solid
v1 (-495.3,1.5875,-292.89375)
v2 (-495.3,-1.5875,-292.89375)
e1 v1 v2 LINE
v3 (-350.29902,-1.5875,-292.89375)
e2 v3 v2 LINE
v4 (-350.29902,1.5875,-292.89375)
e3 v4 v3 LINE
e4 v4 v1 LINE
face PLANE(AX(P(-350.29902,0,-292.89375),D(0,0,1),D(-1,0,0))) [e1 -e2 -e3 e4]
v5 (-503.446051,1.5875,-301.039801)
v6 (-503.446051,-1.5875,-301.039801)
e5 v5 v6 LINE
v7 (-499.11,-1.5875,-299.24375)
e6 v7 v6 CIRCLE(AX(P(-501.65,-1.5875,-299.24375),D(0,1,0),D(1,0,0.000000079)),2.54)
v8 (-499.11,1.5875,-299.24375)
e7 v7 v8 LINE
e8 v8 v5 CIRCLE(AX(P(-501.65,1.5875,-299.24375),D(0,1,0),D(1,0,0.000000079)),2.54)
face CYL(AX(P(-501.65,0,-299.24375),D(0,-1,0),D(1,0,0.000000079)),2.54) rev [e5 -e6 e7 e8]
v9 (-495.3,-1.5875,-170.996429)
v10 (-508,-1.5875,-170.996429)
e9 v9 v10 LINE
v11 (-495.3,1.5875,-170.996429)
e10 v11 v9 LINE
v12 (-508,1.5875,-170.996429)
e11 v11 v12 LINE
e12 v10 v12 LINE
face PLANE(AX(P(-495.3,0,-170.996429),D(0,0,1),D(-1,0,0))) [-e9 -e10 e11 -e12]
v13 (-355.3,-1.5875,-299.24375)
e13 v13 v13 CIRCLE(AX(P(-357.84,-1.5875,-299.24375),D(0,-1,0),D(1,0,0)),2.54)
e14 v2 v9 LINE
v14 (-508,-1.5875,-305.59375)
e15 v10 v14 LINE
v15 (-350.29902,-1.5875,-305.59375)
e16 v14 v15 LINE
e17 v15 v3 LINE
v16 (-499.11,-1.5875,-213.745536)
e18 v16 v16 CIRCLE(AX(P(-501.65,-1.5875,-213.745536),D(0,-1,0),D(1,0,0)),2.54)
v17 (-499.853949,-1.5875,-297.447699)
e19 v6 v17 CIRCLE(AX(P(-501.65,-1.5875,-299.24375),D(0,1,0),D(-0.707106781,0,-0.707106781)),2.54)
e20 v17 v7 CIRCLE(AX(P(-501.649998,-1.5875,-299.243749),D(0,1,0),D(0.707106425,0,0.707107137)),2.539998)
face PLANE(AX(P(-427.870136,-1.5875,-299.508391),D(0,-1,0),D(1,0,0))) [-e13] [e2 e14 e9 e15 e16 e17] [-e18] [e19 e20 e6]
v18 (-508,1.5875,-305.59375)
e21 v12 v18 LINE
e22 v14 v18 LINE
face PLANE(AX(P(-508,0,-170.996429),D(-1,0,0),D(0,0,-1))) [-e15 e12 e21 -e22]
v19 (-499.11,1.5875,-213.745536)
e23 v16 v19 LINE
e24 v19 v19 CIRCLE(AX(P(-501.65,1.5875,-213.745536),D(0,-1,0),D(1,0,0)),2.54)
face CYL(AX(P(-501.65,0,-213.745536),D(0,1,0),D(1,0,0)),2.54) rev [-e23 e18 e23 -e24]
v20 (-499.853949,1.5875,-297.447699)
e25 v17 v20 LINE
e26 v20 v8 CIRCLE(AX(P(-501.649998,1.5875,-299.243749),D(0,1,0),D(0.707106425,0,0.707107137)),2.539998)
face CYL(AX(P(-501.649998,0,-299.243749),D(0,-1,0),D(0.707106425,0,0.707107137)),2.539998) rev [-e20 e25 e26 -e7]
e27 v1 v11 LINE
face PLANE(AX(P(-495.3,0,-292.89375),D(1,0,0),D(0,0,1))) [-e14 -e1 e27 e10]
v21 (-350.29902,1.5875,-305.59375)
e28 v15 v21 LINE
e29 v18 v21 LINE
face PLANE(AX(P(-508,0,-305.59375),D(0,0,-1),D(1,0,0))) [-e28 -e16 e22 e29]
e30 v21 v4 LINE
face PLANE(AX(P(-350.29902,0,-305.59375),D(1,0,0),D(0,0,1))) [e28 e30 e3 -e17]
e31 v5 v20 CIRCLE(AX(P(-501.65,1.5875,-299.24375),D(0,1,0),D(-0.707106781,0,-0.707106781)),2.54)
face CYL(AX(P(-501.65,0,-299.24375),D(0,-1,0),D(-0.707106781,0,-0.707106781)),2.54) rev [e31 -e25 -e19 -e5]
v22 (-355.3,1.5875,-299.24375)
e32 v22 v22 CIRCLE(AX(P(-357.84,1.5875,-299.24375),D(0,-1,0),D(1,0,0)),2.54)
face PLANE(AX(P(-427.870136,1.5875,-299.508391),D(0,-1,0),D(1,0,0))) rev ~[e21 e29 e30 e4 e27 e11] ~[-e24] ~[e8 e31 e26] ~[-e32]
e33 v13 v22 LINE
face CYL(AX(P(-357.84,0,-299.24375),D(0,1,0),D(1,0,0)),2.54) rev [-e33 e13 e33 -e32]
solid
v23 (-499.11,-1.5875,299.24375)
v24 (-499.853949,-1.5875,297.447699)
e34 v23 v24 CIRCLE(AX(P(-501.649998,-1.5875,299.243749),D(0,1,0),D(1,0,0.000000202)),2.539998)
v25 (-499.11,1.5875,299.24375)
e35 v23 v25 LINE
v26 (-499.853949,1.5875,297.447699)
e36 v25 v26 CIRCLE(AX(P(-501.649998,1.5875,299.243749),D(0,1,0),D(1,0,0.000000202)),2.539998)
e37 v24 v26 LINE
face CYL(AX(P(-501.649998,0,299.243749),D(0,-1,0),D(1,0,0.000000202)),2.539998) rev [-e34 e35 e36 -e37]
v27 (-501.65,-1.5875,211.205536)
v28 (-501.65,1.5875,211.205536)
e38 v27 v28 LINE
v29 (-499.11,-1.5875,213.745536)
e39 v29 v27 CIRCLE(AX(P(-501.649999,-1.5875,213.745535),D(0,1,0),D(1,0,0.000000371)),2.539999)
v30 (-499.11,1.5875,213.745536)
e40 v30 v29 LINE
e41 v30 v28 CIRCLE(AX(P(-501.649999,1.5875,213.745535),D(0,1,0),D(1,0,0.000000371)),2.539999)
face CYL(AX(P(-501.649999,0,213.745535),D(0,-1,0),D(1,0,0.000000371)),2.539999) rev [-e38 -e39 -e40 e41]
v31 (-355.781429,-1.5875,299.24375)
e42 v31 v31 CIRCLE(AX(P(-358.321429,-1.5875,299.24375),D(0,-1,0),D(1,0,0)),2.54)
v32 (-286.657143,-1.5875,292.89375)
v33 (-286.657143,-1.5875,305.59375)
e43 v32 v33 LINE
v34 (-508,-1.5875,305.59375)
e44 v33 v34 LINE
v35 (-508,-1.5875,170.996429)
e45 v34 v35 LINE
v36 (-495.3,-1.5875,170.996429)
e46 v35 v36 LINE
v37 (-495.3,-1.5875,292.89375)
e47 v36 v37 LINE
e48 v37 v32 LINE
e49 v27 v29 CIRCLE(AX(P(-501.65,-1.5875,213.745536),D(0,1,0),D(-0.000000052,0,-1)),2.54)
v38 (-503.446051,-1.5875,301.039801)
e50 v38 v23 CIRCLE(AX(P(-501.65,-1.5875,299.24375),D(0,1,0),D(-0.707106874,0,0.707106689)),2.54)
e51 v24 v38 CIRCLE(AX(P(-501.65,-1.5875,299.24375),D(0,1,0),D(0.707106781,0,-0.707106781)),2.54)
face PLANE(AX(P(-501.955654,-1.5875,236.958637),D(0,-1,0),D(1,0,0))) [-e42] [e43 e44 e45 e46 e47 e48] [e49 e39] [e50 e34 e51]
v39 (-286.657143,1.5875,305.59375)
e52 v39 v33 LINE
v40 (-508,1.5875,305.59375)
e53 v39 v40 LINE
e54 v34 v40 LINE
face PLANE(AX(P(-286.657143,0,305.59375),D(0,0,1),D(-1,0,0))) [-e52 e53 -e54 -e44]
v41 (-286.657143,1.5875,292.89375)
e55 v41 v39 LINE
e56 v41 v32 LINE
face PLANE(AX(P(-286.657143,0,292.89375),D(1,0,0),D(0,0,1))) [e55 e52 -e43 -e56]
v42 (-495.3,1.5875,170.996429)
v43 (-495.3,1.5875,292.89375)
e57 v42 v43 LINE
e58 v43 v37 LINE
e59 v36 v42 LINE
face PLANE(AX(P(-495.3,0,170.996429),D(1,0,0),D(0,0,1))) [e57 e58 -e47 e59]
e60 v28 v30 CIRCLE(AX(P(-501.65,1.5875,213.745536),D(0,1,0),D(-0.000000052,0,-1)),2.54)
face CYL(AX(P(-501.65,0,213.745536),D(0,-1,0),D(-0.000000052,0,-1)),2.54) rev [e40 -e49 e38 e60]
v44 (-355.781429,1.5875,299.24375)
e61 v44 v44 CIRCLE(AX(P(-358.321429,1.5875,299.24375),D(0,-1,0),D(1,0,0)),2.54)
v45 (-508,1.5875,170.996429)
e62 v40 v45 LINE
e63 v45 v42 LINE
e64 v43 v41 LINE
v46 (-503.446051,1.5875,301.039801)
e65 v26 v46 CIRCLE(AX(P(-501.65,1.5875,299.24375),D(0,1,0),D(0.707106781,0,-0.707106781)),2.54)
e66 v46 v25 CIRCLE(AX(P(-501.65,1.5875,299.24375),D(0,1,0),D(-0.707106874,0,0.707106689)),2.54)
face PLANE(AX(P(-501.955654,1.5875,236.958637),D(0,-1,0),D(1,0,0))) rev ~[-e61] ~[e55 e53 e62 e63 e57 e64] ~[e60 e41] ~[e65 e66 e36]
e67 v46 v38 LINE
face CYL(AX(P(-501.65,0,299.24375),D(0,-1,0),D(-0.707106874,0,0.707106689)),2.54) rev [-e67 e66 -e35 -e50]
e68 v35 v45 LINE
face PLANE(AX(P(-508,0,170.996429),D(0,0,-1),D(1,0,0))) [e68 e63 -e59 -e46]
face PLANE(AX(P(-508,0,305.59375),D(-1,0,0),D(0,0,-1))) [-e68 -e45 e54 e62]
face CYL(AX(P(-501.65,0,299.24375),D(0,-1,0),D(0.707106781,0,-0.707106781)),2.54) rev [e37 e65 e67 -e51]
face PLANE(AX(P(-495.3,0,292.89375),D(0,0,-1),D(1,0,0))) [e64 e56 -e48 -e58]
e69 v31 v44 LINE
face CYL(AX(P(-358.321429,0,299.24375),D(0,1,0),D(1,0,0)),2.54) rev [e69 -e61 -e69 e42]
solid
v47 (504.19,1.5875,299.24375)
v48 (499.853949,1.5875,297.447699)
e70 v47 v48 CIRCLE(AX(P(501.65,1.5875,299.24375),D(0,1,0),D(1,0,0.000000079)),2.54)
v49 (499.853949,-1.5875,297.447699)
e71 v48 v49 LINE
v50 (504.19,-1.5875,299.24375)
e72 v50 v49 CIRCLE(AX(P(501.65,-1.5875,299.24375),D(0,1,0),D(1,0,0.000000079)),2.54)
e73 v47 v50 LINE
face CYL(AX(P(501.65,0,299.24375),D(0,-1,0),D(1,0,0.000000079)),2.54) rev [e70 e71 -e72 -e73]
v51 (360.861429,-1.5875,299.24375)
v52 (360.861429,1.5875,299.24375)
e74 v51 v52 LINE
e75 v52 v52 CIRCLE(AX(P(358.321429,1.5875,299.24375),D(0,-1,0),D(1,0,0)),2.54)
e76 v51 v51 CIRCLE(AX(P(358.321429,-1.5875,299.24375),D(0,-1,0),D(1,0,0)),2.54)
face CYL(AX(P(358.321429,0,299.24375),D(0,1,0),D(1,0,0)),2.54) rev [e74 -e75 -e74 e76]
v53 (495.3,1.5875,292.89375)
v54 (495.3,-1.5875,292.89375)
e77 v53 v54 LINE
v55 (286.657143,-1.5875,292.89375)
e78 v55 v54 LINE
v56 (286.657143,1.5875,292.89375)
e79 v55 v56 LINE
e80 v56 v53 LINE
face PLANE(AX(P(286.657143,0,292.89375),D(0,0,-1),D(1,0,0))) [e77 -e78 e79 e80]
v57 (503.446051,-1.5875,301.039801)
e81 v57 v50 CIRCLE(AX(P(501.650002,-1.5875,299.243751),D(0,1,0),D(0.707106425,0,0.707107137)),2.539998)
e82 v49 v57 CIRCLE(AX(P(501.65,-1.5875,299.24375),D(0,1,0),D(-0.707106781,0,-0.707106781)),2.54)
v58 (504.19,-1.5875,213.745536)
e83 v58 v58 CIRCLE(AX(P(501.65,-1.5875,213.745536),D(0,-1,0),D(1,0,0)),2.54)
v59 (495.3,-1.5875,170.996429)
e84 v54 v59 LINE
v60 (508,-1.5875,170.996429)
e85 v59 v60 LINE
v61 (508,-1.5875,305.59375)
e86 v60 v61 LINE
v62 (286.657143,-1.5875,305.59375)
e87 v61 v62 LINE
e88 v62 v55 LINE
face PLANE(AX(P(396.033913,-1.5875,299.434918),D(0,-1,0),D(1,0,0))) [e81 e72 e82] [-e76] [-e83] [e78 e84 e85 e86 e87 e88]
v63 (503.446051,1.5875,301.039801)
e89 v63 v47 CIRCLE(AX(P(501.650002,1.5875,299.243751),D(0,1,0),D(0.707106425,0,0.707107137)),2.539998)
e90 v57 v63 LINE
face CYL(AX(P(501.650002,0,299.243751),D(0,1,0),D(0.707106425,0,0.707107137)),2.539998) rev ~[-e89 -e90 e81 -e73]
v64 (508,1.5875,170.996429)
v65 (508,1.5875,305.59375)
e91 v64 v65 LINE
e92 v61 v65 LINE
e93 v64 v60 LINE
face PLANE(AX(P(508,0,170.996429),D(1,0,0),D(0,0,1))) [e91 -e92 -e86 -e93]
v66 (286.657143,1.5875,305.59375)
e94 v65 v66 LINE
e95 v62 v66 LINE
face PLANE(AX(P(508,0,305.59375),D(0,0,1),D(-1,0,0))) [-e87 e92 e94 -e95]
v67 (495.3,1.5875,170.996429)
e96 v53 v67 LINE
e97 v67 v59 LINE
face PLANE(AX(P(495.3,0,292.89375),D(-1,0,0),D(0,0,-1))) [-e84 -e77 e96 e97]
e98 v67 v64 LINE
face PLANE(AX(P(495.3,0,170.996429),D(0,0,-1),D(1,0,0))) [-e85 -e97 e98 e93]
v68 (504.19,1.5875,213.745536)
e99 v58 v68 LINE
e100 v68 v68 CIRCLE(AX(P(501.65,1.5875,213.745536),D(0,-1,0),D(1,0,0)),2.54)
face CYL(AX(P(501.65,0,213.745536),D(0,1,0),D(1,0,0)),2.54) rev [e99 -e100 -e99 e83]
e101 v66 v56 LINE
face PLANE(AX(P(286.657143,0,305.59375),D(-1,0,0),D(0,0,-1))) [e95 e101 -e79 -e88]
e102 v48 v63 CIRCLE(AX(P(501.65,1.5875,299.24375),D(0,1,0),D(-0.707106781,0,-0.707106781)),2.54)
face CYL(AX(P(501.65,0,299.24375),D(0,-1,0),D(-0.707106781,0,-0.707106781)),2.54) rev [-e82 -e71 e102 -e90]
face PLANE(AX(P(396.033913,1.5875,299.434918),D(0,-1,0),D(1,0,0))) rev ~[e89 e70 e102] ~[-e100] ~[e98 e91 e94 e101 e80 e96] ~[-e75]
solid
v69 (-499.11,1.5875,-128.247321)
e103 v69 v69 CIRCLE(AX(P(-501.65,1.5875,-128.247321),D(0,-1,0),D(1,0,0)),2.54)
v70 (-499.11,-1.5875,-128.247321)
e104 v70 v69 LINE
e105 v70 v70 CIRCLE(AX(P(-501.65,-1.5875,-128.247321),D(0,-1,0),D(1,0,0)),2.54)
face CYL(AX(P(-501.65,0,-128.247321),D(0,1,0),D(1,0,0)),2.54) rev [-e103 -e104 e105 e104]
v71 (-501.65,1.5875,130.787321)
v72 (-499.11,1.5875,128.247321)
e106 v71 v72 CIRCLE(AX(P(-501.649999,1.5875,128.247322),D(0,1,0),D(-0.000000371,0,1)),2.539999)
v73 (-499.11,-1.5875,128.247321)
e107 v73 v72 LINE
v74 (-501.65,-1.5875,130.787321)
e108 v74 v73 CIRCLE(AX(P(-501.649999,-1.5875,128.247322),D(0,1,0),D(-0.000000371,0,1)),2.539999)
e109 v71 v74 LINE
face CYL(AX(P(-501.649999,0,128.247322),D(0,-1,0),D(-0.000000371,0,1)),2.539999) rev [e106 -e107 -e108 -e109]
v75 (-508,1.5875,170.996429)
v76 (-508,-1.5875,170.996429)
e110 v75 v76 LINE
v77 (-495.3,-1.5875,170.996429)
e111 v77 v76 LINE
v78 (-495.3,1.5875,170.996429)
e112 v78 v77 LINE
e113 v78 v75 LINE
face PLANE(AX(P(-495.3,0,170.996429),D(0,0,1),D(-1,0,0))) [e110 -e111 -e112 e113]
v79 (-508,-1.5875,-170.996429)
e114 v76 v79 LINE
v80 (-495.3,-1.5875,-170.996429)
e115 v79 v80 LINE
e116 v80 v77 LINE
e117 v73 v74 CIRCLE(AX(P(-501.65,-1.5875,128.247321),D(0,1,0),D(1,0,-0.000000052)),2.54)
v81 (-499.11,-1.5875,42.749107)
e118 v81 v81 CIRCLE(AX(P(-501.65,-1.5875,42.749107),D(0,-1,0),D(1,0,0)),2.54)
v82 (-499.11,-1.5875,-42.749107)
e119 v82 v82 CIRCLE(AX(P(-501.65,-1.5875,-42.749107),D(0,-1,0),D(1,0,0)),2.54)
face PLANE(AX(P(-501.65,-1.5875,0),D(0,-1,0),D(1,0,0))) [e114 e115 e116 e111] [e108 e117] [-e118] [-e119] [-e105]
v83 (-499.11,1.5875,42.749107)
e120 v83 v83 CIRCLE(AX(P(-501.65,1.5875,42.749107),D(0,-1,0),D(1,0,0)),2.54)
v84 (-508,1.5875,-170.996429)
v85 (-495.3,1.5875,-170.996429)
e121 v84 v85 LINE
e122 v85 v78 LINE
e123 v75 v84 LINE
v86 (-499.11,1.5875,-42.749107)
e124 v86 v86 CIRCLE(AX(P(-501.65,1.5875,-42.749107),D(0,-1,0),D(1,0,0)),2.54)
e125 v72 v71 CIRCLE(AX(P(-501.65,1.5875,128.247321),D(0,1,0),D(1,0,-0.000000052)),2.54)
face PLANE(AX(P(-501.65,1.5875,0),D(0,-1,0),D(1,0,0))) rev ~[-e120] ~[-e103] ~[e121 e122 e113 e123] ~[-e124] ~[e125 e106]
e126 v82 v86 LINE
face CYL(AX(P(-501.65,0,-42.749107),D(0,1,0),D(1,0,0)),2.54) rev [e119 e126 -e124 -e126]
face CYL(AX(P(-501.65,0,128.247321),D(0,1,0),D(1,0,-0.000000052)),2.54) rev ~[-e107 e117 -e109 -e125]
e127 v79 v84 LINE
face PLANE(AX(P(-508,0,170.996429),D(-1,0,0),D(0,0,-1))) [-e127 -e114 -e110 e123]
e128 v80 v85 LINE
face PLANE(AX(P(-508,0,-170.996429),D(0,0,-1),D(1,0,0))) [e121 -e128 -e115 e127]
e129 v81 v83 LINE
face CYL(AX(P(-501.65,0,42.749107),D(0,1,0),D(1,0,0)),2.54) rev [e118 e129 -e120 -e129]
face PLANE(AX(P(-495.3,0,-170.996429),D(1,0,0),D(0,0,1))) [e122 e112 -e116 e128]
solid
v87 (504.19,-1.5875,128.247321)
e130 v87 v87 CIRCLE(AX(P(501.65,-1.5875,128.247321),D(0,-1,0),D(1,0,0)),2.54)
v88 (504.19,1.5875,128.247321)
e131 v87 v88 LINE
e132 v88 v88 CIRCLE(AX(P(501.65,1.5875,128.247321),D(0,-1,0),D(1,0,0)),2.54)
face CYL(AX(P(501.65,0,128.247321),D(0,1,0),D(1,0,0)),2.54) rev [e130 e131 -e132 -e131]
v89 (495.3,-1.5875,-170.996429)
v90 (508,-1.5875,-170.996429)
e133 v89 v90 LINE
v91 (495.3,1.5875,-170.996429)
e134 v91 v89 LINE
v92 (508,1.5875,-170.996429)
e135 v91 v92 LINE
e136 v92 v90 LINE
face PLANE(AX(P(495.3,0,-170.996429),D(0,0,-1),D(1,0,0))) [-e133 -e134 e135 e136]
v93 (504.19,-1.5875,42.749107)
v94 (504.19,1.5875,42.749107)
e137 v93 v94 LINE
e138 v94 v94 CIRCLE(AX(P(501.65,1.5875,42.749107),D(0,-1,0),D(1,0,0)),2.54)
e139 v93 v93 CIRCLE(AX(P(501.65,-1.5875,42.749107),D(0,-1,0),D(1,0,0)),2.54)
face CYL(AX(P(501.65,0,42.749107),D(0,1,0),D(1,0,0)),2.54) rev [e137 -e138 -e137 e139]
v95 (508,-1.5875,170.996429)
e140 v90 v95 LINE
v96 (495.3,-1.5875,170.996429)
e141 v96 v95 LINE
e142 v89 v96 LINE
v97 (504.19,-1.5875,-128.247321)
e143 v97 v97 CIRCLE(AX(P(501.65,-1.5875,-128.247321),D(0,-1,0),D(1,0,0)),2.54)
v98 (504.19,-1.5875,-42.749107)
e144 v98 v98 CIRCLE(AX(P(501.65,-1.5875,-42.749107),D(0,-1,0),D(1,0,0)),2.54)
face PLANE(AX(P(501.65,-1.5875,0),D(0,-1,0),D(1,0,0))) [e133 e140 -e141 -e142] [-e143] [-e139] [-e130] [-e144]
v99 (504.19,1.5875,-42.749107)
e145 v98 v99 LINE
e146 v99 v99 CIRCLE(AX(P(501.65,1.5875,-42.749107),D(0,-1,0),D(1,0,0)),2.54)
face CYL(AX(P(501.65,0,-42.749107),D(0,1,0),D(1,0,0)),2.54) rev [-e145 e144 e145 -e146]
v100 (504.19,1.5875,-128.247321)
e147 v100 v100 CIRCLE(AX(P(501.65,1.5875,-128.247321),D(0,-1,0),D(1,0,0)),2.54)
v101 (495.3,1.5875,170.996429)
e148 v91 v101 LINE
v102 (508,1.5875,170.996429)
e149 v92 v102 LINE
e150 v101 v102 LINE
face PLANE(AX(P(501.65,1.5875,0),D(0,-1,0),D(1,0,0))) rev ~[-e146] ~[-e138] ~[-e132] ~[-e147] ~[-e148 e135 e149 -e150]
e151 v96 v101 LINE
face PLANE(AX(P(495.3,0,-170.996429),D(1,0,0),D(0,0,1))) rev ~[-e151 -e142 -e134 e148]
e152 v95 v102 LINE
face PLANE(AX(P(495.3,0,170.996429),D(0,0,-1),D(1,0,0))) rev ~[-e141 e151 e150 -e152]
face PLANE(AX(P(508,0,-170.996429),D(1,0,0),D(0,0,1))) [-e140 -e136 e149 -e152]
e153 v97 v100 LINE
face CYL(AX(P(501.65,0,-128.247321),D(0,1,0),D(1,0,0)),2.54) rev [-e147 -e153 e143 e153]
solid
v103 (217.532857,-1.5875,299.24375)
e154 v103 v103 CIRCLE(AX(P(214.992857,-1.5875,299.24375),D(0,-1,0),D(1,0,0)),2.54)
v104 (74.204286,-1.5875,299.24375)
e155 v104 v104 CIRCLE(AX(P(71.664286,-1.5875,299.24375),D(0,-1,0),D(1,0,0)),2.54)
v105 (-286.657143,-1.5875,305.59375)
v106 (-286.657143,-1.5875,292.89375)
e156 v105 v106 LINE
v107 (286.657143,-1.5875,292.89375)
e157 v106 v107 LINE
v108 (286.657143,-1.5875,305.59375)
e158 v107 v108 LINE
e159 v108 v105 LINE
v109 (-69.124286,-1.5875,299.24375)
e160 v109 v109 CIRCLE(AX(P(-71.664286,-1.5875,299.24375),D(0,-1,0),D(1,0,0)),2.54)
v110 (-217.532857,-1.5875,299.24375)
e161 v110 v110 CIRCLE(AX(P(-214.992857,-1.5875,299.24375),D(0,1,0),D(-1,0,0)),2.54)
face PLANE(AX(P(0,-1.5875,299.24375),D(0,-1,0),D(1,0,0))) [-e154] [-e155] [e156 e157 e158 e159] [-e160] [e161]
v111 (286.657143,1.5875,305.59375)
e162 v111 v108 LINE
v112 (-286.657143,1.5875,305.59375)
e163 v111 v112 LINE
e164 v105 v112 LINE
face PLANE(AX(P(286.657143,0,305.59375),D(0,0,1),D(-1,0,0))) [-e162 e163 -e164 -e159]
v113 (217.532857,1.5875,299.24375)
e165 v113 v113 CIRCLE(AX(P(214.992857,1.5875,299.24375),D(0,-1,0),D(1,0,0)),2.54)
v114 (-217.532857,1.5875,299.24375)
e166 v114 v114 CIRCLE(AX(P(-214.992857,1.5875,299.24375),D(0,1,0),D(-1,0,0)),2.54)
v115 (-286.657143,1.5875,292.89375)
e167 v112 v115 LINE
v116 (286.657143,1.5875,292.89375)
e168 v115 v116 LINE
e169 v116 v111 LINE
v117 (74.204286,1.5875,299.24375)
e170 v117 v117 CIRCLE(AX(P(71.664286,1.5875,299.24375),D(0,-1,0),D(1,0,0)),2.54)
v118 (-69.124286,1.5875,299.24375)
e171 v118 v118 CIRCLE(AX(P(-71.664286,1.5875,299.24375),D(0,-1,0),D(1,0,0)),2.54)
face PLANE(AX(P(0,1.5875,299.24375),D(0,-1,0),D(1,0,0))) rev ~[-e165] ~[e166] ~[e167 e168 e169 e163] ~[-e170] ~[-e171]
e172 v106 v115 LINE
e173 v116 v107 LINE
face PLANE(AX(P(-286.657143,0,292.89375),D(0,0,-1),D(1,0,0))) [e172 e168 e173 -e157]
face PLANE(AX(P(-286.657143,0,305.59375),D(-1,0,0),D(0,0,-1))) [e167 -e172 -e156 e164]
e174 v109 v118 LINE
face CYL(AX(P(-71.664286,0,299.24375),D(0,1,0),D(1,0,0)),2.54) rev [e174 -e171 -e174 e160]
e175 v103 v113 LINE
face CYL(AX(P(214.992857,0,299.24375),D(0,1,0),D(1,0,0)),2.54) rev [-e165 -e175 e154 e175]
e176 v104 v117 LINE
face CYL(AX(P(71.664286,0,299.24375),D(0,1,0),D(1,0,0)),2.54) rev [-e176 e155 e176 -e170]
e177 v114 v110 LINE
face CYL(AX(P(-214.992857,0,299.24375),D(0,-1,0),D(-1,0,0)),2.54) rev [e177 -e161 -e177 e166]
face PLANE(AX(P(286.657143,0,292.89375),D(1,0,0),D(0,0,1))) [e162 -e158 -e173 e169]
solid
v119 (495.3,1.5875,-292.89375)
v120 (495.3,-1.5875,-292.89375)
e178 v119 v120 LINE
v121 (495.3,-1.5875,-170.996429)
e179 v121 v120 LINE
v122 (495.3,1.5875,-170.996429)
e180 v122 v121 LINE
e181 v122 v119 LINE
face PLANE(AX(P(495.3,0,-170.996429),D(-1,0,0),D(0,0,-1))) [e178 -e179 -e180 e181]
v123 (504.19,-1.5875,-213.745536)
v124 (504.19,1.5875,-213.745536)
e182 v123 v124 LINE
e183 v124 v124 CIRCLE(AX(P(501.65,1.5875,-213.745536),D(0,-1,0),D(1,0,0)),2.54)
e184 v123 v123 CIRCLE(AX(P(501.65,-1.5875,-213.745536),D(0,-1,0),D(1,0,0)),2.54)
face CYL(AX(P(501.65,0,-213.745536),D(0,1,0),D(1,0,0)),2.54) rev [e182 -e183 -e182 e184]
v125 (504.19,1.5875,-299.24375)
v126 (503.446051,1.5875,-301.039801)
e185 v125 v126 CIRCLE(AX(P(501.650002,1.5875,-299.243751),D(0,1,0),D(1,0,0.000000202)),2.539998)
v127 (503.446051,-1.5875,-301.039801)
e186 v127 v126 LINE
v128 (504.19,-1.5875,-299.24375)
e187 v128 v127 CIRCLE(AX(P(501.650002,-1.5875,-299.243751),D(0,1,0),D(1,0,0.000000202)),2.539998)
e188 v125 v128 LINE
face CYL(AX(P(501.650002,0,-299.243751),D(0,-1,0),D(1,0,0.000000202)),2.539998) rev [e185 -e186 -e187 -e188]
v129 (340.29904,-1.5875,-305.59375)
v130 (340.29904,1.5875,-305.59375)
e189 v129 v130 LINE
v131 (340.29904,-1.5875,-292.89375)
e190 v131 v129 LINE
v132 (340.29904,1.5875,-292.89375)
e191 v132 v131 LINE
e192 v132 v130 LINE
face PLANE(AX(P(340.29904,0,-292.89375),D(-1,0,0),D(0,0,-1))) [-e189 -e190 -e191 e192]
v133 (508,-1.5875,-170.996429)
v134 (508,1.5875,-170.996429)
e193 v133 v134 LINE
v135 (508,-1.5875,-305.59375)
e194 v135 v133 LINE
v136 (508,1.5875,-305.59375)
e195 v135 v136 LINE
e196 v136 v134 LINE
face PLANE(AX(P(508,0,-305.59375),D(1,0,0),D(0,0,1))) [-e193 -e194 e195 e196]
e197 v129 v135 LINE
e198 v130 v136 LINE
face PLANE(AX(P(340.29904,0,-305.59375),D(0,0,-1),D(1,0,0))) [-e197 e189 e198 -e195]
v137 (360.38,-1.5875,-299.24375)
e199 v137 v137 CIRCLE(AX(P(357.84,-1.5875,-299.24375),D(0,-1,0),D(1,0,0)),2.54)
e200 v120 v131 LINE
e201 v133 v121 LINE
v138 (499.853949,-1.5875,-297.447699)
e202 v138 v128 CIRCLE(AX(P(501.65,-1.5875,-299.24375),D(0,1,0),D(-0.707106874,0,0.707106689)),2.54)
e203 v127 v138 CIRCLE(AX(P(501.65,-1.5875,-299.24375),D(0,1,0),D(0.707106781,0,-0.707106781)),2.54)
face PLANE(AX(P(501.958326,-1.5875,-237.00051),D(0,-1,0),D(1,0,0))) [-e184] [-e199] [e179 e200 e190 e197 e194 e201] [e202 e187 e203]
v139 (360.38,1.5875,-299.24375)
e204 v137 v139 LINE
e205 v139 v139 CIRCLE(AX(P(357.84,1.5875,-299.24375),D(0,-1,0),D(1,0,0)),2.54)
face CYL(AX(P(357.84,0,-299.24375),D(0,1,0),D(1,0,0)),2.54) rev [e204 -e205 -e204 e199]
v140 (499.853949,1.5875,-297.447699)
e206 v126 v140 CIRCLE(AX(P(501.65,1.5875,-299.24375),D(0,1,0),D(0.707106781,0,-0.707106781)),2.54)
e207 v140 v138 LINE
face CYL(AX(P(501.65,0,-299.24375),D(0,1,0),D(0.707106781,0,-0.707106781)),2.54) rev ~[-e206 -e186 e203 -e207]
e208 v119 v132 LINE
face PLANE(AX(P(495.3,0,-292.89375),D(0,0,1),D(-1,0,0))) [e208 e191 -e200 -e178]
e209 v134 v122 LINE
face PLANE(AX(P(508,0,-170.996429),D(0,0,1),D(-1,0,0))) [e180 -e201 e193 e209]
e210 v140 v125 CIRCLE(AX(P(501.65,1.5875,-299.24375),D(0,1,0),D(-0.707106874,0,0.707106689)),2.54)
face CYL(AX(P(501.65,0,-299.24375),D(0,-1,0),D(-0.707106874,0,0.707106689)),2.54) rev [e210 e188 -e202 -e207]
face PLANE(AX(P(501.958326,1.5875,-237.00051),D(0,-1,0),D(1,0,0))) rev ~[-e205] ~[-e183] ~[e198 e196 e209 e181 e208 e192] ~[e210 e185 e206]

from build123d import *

# Parameters (mm, degrees)
F0_R     = 2.54
F1_DEPTH = 1.5875
F2_DEPTH = 1.5875
F3_DEPTH = 1.5875
F0_W     = 12.7
F0_H     = 341.992858
F4_DEPTH = 1.5875
F5_DEPTH = 1.5875
F6_DEPTH = 1.5875
F7_DEPTH = 1.5875


with BuildPart() as f1:
    # F0 (on Front) → F1 (new body, symmetric)
    with BuildSketch(Plane.XZ):
        with BuildLine():
            Line((-495.3, 170.996429), (-495.3, 292.89375))
            Line((-495.3, 292.89375), (-499.853949, 297.447699))
            ThreePointArc((-499.853949, 297.447699), (-503.446051, 297.447699), (-503.446051, 301.039801))
            Line((-503.446051, 301.039801), (-508, 305.59375))
            Line((-508, 305.59375), (-508, 170.996429))
            Line((-508, 170.996429), (-501.65, 170.996429))
            Line((-501.65, 170.996429), (-495.3, 170.996429))
        make_face()
        with BuildLine():
            ThreePointArc((-499.11, 213.745536), (-499.853949, 211.949484), (-501.65, 211.205536))
            ThreePointArc((-501.65, 211.205536), (-503.446051, 215.541587), (-499.11, 213.745536))
        make_face(mode=Mode.SUBTRACT)
        with BuildLine():
            Line((-495.3, 292.89375), (-286.657143, 292.89375))
            Line((-286.657143, 292.89375), (-286.657143, 299.24375))
            Line((-286.657143, 299.24375), (-286.657143, 305.59375))
            Line((-286.657143, 305.59375), (-508, 305.59375))
            Line((-508, 305.59375), (-503.446051, 301.039801))
            ThreePointArc((-503.446051, 301.039801), (-500.677984, 301.590404), (-499.11, 299.24375))
            ThreePointArc((-499.11, 299.24375), (-499.303346, 298.271734), (-499.853949, 297.447699))
            Line((-499.853949, 297.447699), (-495.3, 292.89375))
        make_face()
        with Locations((-358.321429, 299.24375)):
            Circle(F0_R, mode=Mode.SUBTRACT)
    extrude(amount=F1_DEPTH, both=True)


with BuildPart() as f2:
    # F0 (on Front) → F2 (new body, symmetric)
    with BuildSketch(Plane.XZ):
        Polygon((-286.657143, 292.89375), (286.657143, 292.89375), (286.657143, 305.59375), (-286.657143, 305.59375), (-286.657143, 299.24375), align=None)
        with BuildLine():
            ThreePointArc((-212.452857, 299.24375), (-214.992857, 296.70375), (-217.532857, 299.24375))
            ThreePointArc((-217.532857, 299.24375), (-214.992857, 301.78375), (-212.452857, 299.24375))
        make_face(mode=Mode.SUBTRACT)
        with Locations((-71.664286, 299.24375)):
            Circle(F0_R, mode=Mode.SUBTRACT)
        with Locations((71.664286, 299.24375)):
            Circle(F0_R, mode=Mode.SUBTRACT)
        with Locations((214.992857, 299.24375)):
            Circle(F0_R, mode=Mode.SUBTRACT)
    extrude(amount=F2_DEPTH, both=True)


with BuildPart() as f3:
    # F0 (on Front) → F3 (new body, symmetric)
    with BuildSketch(Plane.XZ):
        with BuildLine():
            Line((286.657143, 292.89375), (495.3, 292.89375))
            Line((495.3, 292.89375), (499.853949, 297.447699))
            ThreePointArc((499.853949, 297.447699), (499.853949, 301.039801), (503.446051, 301.039801))
            Line((503.446051, 301.039801), (508, 305.59375))
            Line((508, 305.59375), (286.657143, 305.59375))
            Line((286.657143, 305.59375), (286.657143, 292.89375))
        make_face()
        with Locations((358.321429, 299.24375)):
            Circle(F0_R, mode=Mode.SUBTRACT)
        with BuildLine():
            Line((499.853949, 297.447699), (495.3, 292.89375))
            Line((495.3, 292.89375), (495.3, 170.996429))
            Line((495.3, 170.996429), (508, 170.996429))
            Line((508, 170.996429), (508, 305.59375))
            Line((508, 305.59375), (503.446051, 301.039801))
            ThreePointArc((503.446051, 301.039801), (503.996654, 300.215766), (504.19, 299.24375))
            ThreePointArc((504.19, 299.24375), (502.622016, 296.897096), (499.853949, 297.447699))
        make_face()
        with Locations((501.65, 213.745536)):
            Circle(F0_R, mode=Mode.SUBTRACT)
    extrude(amount=F3_DEPTH, both=True)


with BuildPart() as f4:
    # F0 (on Front) → F4 (new body, symmetric)
    with BuildSketch(Plane.XZ):
        with Locations((501.65, 0)):
            Rectangle(F0_W, F0_H)
        with Locations((501.65, -128.247321)):
            Circle(F0_R, mode=Mode.SUBTRACT)
        with Locations((501.65, -42.749107)):
            Circle(F0_R, mode=Mode.SUBTRACT)
        with Locations((501.65, 42.749107)):
            Circle(F0_R, mode=Mode.SUBTRACT)
        with Locations((501.65, 128.247321)):
            Circle(F0_R, mode=Mode.SUBTRACT)
    extrude(amount=F4_DEPTH, both=True)


with BuildPart() as f5:
    # F0 (on Front) → F5 (new body, symmetric)
    with BuildSketch(Plane.XZ):
        with BuildLine():
            Line((508, -170.996429), (495.3, -170.996429))
            Line((495.3, -170.996429), (495.3, -292.89375))
            Line((495.3, -292.89375), (499.853949, -297.447699))
            ThreePointArc((499.853949, -297.447699), (502.622016, -296.897096), (504.19, -299.24375))
            ThreePointArc((504.19, -299.24375), (503.996654, -300.215766), (503.446051, -301.039801))
            Line((503.446051, -301.039801), (508, -305.59375))
            Line((508, -305.59375), (508, -170.996429))
        make_face()
        with Locations((501.65, -213.745536)):
            Circle(F0_R, mode=Mode.SUBTRACT)
        with BuildLine():
            Line((499.853949, -297.447699), (495.3, -292.89375))
            Line((495.3, -292.89375), (340.29904, -292.89375))
            Line((340.29904, -292.89375), (340.29904, -305.59375))
            Line((340.29904, -305.59375), (508, -305.59375))
            Line((508, -305.59375), (503.446051, -301.039801))
            ThreePointArc((503.446051, -301.039801), (499.853949, -301.039801), (499.853949, -297.447699))
        make_face()
        with Locations((357.84, -299.24375)):
            Circle(F0_R, mode=Mode.SUBTRACT)
    extrude(amount=F5_DEPTH, both=True)


with BuildPart() as f6:
    # F0 (on Front) → F6 (new body, symmetric)
    with BuildSketch(Plane.XZ):
        with BuildLine():
            Line((-350.29902, -305.59375), (-350.29902, -292.89375))
            Line((-350.29902, -292.89375), (-495.3, -292.89375))
            Line((-495.3, -292.89375), (-499.853949, -297.447699))
            ThreePointArc((-499.853949, -297.447699), (-499.303346, -298.271734), (-499.11, -299.24375))
            ThreePointArc((-499.11, -299.24375), (-500.677984, -301.590404), (-503.446051, -301.039801))
            Line((-503.446051, -301.039801), (-508, -305.59375))
            Line((-508, -305.59375), (-350.29902, -305.59375))
        make_face()
        with Locations((-357.84, -299.24375)):
            Circle(F0_R, mode=Mode.SUBTRACT)
        with BuildLine():
            Line((-495.3, -292.89375), (-495.3, -170.996429))
            Line((-495.3, -170.996429), (-508, -170.996429))
            Line((-508, -170.996429), (-508, -305.59375))
            Line((-508, -305.59375), (-503.446051, -301.039801))
            ThreePointArc((-503.446051, -301.039801), (-503.446051, -297.447699), (-499.853949, -297.447699))
            Line((-499.853949, -297.447699), (-495.3, -292.89375))
        make_face()
        with Locations((-501.65, -213.745536)):
            Circle(F0_R, mode=Mode.SUBTRACT)
    extrude(amount=F6_DEPTH, both=True)


with BuildPart() as f7:
    # F0 (on Front) → F7 (new body, symmetric)
    with BuildSketch(Plane.XZ):
        Polygon((-495.3, -170.996429), (-495.3, 170.996429), (-501.65, 170.996429), (-508, 170.996429), (-508, -170.996429), align=None)
        with Locations((-501.65, -128.247321)):
            Circle(F0_R, mode=Mode.SUBTRACT)
        with Locations((-501.65, -42.749107)):
            Circle(F0_R, mode=Mode.SUBTRACT)
        with Locations((-501.65, 42.749107)):
            Circle(F0_R, mode=Mode.SUBTRACT)
        with BuildLine():
            ThreePointArc((-499.11, 128.247321), (-503.446051, 126.45127), (-501.65, 130.787321))
            ThreePointArc((-501.65, 130.787321), (-499.853949, 130.043373), (-499.11, 128.247321))
        make_face(mode=Mode.SUBTRACT)
    extrude(amount=F7_DEPTH, both=True)


solid = Compound([f1.part, f2.part, f3.part, f4.part, f5.part, f6.part, f7.part])
